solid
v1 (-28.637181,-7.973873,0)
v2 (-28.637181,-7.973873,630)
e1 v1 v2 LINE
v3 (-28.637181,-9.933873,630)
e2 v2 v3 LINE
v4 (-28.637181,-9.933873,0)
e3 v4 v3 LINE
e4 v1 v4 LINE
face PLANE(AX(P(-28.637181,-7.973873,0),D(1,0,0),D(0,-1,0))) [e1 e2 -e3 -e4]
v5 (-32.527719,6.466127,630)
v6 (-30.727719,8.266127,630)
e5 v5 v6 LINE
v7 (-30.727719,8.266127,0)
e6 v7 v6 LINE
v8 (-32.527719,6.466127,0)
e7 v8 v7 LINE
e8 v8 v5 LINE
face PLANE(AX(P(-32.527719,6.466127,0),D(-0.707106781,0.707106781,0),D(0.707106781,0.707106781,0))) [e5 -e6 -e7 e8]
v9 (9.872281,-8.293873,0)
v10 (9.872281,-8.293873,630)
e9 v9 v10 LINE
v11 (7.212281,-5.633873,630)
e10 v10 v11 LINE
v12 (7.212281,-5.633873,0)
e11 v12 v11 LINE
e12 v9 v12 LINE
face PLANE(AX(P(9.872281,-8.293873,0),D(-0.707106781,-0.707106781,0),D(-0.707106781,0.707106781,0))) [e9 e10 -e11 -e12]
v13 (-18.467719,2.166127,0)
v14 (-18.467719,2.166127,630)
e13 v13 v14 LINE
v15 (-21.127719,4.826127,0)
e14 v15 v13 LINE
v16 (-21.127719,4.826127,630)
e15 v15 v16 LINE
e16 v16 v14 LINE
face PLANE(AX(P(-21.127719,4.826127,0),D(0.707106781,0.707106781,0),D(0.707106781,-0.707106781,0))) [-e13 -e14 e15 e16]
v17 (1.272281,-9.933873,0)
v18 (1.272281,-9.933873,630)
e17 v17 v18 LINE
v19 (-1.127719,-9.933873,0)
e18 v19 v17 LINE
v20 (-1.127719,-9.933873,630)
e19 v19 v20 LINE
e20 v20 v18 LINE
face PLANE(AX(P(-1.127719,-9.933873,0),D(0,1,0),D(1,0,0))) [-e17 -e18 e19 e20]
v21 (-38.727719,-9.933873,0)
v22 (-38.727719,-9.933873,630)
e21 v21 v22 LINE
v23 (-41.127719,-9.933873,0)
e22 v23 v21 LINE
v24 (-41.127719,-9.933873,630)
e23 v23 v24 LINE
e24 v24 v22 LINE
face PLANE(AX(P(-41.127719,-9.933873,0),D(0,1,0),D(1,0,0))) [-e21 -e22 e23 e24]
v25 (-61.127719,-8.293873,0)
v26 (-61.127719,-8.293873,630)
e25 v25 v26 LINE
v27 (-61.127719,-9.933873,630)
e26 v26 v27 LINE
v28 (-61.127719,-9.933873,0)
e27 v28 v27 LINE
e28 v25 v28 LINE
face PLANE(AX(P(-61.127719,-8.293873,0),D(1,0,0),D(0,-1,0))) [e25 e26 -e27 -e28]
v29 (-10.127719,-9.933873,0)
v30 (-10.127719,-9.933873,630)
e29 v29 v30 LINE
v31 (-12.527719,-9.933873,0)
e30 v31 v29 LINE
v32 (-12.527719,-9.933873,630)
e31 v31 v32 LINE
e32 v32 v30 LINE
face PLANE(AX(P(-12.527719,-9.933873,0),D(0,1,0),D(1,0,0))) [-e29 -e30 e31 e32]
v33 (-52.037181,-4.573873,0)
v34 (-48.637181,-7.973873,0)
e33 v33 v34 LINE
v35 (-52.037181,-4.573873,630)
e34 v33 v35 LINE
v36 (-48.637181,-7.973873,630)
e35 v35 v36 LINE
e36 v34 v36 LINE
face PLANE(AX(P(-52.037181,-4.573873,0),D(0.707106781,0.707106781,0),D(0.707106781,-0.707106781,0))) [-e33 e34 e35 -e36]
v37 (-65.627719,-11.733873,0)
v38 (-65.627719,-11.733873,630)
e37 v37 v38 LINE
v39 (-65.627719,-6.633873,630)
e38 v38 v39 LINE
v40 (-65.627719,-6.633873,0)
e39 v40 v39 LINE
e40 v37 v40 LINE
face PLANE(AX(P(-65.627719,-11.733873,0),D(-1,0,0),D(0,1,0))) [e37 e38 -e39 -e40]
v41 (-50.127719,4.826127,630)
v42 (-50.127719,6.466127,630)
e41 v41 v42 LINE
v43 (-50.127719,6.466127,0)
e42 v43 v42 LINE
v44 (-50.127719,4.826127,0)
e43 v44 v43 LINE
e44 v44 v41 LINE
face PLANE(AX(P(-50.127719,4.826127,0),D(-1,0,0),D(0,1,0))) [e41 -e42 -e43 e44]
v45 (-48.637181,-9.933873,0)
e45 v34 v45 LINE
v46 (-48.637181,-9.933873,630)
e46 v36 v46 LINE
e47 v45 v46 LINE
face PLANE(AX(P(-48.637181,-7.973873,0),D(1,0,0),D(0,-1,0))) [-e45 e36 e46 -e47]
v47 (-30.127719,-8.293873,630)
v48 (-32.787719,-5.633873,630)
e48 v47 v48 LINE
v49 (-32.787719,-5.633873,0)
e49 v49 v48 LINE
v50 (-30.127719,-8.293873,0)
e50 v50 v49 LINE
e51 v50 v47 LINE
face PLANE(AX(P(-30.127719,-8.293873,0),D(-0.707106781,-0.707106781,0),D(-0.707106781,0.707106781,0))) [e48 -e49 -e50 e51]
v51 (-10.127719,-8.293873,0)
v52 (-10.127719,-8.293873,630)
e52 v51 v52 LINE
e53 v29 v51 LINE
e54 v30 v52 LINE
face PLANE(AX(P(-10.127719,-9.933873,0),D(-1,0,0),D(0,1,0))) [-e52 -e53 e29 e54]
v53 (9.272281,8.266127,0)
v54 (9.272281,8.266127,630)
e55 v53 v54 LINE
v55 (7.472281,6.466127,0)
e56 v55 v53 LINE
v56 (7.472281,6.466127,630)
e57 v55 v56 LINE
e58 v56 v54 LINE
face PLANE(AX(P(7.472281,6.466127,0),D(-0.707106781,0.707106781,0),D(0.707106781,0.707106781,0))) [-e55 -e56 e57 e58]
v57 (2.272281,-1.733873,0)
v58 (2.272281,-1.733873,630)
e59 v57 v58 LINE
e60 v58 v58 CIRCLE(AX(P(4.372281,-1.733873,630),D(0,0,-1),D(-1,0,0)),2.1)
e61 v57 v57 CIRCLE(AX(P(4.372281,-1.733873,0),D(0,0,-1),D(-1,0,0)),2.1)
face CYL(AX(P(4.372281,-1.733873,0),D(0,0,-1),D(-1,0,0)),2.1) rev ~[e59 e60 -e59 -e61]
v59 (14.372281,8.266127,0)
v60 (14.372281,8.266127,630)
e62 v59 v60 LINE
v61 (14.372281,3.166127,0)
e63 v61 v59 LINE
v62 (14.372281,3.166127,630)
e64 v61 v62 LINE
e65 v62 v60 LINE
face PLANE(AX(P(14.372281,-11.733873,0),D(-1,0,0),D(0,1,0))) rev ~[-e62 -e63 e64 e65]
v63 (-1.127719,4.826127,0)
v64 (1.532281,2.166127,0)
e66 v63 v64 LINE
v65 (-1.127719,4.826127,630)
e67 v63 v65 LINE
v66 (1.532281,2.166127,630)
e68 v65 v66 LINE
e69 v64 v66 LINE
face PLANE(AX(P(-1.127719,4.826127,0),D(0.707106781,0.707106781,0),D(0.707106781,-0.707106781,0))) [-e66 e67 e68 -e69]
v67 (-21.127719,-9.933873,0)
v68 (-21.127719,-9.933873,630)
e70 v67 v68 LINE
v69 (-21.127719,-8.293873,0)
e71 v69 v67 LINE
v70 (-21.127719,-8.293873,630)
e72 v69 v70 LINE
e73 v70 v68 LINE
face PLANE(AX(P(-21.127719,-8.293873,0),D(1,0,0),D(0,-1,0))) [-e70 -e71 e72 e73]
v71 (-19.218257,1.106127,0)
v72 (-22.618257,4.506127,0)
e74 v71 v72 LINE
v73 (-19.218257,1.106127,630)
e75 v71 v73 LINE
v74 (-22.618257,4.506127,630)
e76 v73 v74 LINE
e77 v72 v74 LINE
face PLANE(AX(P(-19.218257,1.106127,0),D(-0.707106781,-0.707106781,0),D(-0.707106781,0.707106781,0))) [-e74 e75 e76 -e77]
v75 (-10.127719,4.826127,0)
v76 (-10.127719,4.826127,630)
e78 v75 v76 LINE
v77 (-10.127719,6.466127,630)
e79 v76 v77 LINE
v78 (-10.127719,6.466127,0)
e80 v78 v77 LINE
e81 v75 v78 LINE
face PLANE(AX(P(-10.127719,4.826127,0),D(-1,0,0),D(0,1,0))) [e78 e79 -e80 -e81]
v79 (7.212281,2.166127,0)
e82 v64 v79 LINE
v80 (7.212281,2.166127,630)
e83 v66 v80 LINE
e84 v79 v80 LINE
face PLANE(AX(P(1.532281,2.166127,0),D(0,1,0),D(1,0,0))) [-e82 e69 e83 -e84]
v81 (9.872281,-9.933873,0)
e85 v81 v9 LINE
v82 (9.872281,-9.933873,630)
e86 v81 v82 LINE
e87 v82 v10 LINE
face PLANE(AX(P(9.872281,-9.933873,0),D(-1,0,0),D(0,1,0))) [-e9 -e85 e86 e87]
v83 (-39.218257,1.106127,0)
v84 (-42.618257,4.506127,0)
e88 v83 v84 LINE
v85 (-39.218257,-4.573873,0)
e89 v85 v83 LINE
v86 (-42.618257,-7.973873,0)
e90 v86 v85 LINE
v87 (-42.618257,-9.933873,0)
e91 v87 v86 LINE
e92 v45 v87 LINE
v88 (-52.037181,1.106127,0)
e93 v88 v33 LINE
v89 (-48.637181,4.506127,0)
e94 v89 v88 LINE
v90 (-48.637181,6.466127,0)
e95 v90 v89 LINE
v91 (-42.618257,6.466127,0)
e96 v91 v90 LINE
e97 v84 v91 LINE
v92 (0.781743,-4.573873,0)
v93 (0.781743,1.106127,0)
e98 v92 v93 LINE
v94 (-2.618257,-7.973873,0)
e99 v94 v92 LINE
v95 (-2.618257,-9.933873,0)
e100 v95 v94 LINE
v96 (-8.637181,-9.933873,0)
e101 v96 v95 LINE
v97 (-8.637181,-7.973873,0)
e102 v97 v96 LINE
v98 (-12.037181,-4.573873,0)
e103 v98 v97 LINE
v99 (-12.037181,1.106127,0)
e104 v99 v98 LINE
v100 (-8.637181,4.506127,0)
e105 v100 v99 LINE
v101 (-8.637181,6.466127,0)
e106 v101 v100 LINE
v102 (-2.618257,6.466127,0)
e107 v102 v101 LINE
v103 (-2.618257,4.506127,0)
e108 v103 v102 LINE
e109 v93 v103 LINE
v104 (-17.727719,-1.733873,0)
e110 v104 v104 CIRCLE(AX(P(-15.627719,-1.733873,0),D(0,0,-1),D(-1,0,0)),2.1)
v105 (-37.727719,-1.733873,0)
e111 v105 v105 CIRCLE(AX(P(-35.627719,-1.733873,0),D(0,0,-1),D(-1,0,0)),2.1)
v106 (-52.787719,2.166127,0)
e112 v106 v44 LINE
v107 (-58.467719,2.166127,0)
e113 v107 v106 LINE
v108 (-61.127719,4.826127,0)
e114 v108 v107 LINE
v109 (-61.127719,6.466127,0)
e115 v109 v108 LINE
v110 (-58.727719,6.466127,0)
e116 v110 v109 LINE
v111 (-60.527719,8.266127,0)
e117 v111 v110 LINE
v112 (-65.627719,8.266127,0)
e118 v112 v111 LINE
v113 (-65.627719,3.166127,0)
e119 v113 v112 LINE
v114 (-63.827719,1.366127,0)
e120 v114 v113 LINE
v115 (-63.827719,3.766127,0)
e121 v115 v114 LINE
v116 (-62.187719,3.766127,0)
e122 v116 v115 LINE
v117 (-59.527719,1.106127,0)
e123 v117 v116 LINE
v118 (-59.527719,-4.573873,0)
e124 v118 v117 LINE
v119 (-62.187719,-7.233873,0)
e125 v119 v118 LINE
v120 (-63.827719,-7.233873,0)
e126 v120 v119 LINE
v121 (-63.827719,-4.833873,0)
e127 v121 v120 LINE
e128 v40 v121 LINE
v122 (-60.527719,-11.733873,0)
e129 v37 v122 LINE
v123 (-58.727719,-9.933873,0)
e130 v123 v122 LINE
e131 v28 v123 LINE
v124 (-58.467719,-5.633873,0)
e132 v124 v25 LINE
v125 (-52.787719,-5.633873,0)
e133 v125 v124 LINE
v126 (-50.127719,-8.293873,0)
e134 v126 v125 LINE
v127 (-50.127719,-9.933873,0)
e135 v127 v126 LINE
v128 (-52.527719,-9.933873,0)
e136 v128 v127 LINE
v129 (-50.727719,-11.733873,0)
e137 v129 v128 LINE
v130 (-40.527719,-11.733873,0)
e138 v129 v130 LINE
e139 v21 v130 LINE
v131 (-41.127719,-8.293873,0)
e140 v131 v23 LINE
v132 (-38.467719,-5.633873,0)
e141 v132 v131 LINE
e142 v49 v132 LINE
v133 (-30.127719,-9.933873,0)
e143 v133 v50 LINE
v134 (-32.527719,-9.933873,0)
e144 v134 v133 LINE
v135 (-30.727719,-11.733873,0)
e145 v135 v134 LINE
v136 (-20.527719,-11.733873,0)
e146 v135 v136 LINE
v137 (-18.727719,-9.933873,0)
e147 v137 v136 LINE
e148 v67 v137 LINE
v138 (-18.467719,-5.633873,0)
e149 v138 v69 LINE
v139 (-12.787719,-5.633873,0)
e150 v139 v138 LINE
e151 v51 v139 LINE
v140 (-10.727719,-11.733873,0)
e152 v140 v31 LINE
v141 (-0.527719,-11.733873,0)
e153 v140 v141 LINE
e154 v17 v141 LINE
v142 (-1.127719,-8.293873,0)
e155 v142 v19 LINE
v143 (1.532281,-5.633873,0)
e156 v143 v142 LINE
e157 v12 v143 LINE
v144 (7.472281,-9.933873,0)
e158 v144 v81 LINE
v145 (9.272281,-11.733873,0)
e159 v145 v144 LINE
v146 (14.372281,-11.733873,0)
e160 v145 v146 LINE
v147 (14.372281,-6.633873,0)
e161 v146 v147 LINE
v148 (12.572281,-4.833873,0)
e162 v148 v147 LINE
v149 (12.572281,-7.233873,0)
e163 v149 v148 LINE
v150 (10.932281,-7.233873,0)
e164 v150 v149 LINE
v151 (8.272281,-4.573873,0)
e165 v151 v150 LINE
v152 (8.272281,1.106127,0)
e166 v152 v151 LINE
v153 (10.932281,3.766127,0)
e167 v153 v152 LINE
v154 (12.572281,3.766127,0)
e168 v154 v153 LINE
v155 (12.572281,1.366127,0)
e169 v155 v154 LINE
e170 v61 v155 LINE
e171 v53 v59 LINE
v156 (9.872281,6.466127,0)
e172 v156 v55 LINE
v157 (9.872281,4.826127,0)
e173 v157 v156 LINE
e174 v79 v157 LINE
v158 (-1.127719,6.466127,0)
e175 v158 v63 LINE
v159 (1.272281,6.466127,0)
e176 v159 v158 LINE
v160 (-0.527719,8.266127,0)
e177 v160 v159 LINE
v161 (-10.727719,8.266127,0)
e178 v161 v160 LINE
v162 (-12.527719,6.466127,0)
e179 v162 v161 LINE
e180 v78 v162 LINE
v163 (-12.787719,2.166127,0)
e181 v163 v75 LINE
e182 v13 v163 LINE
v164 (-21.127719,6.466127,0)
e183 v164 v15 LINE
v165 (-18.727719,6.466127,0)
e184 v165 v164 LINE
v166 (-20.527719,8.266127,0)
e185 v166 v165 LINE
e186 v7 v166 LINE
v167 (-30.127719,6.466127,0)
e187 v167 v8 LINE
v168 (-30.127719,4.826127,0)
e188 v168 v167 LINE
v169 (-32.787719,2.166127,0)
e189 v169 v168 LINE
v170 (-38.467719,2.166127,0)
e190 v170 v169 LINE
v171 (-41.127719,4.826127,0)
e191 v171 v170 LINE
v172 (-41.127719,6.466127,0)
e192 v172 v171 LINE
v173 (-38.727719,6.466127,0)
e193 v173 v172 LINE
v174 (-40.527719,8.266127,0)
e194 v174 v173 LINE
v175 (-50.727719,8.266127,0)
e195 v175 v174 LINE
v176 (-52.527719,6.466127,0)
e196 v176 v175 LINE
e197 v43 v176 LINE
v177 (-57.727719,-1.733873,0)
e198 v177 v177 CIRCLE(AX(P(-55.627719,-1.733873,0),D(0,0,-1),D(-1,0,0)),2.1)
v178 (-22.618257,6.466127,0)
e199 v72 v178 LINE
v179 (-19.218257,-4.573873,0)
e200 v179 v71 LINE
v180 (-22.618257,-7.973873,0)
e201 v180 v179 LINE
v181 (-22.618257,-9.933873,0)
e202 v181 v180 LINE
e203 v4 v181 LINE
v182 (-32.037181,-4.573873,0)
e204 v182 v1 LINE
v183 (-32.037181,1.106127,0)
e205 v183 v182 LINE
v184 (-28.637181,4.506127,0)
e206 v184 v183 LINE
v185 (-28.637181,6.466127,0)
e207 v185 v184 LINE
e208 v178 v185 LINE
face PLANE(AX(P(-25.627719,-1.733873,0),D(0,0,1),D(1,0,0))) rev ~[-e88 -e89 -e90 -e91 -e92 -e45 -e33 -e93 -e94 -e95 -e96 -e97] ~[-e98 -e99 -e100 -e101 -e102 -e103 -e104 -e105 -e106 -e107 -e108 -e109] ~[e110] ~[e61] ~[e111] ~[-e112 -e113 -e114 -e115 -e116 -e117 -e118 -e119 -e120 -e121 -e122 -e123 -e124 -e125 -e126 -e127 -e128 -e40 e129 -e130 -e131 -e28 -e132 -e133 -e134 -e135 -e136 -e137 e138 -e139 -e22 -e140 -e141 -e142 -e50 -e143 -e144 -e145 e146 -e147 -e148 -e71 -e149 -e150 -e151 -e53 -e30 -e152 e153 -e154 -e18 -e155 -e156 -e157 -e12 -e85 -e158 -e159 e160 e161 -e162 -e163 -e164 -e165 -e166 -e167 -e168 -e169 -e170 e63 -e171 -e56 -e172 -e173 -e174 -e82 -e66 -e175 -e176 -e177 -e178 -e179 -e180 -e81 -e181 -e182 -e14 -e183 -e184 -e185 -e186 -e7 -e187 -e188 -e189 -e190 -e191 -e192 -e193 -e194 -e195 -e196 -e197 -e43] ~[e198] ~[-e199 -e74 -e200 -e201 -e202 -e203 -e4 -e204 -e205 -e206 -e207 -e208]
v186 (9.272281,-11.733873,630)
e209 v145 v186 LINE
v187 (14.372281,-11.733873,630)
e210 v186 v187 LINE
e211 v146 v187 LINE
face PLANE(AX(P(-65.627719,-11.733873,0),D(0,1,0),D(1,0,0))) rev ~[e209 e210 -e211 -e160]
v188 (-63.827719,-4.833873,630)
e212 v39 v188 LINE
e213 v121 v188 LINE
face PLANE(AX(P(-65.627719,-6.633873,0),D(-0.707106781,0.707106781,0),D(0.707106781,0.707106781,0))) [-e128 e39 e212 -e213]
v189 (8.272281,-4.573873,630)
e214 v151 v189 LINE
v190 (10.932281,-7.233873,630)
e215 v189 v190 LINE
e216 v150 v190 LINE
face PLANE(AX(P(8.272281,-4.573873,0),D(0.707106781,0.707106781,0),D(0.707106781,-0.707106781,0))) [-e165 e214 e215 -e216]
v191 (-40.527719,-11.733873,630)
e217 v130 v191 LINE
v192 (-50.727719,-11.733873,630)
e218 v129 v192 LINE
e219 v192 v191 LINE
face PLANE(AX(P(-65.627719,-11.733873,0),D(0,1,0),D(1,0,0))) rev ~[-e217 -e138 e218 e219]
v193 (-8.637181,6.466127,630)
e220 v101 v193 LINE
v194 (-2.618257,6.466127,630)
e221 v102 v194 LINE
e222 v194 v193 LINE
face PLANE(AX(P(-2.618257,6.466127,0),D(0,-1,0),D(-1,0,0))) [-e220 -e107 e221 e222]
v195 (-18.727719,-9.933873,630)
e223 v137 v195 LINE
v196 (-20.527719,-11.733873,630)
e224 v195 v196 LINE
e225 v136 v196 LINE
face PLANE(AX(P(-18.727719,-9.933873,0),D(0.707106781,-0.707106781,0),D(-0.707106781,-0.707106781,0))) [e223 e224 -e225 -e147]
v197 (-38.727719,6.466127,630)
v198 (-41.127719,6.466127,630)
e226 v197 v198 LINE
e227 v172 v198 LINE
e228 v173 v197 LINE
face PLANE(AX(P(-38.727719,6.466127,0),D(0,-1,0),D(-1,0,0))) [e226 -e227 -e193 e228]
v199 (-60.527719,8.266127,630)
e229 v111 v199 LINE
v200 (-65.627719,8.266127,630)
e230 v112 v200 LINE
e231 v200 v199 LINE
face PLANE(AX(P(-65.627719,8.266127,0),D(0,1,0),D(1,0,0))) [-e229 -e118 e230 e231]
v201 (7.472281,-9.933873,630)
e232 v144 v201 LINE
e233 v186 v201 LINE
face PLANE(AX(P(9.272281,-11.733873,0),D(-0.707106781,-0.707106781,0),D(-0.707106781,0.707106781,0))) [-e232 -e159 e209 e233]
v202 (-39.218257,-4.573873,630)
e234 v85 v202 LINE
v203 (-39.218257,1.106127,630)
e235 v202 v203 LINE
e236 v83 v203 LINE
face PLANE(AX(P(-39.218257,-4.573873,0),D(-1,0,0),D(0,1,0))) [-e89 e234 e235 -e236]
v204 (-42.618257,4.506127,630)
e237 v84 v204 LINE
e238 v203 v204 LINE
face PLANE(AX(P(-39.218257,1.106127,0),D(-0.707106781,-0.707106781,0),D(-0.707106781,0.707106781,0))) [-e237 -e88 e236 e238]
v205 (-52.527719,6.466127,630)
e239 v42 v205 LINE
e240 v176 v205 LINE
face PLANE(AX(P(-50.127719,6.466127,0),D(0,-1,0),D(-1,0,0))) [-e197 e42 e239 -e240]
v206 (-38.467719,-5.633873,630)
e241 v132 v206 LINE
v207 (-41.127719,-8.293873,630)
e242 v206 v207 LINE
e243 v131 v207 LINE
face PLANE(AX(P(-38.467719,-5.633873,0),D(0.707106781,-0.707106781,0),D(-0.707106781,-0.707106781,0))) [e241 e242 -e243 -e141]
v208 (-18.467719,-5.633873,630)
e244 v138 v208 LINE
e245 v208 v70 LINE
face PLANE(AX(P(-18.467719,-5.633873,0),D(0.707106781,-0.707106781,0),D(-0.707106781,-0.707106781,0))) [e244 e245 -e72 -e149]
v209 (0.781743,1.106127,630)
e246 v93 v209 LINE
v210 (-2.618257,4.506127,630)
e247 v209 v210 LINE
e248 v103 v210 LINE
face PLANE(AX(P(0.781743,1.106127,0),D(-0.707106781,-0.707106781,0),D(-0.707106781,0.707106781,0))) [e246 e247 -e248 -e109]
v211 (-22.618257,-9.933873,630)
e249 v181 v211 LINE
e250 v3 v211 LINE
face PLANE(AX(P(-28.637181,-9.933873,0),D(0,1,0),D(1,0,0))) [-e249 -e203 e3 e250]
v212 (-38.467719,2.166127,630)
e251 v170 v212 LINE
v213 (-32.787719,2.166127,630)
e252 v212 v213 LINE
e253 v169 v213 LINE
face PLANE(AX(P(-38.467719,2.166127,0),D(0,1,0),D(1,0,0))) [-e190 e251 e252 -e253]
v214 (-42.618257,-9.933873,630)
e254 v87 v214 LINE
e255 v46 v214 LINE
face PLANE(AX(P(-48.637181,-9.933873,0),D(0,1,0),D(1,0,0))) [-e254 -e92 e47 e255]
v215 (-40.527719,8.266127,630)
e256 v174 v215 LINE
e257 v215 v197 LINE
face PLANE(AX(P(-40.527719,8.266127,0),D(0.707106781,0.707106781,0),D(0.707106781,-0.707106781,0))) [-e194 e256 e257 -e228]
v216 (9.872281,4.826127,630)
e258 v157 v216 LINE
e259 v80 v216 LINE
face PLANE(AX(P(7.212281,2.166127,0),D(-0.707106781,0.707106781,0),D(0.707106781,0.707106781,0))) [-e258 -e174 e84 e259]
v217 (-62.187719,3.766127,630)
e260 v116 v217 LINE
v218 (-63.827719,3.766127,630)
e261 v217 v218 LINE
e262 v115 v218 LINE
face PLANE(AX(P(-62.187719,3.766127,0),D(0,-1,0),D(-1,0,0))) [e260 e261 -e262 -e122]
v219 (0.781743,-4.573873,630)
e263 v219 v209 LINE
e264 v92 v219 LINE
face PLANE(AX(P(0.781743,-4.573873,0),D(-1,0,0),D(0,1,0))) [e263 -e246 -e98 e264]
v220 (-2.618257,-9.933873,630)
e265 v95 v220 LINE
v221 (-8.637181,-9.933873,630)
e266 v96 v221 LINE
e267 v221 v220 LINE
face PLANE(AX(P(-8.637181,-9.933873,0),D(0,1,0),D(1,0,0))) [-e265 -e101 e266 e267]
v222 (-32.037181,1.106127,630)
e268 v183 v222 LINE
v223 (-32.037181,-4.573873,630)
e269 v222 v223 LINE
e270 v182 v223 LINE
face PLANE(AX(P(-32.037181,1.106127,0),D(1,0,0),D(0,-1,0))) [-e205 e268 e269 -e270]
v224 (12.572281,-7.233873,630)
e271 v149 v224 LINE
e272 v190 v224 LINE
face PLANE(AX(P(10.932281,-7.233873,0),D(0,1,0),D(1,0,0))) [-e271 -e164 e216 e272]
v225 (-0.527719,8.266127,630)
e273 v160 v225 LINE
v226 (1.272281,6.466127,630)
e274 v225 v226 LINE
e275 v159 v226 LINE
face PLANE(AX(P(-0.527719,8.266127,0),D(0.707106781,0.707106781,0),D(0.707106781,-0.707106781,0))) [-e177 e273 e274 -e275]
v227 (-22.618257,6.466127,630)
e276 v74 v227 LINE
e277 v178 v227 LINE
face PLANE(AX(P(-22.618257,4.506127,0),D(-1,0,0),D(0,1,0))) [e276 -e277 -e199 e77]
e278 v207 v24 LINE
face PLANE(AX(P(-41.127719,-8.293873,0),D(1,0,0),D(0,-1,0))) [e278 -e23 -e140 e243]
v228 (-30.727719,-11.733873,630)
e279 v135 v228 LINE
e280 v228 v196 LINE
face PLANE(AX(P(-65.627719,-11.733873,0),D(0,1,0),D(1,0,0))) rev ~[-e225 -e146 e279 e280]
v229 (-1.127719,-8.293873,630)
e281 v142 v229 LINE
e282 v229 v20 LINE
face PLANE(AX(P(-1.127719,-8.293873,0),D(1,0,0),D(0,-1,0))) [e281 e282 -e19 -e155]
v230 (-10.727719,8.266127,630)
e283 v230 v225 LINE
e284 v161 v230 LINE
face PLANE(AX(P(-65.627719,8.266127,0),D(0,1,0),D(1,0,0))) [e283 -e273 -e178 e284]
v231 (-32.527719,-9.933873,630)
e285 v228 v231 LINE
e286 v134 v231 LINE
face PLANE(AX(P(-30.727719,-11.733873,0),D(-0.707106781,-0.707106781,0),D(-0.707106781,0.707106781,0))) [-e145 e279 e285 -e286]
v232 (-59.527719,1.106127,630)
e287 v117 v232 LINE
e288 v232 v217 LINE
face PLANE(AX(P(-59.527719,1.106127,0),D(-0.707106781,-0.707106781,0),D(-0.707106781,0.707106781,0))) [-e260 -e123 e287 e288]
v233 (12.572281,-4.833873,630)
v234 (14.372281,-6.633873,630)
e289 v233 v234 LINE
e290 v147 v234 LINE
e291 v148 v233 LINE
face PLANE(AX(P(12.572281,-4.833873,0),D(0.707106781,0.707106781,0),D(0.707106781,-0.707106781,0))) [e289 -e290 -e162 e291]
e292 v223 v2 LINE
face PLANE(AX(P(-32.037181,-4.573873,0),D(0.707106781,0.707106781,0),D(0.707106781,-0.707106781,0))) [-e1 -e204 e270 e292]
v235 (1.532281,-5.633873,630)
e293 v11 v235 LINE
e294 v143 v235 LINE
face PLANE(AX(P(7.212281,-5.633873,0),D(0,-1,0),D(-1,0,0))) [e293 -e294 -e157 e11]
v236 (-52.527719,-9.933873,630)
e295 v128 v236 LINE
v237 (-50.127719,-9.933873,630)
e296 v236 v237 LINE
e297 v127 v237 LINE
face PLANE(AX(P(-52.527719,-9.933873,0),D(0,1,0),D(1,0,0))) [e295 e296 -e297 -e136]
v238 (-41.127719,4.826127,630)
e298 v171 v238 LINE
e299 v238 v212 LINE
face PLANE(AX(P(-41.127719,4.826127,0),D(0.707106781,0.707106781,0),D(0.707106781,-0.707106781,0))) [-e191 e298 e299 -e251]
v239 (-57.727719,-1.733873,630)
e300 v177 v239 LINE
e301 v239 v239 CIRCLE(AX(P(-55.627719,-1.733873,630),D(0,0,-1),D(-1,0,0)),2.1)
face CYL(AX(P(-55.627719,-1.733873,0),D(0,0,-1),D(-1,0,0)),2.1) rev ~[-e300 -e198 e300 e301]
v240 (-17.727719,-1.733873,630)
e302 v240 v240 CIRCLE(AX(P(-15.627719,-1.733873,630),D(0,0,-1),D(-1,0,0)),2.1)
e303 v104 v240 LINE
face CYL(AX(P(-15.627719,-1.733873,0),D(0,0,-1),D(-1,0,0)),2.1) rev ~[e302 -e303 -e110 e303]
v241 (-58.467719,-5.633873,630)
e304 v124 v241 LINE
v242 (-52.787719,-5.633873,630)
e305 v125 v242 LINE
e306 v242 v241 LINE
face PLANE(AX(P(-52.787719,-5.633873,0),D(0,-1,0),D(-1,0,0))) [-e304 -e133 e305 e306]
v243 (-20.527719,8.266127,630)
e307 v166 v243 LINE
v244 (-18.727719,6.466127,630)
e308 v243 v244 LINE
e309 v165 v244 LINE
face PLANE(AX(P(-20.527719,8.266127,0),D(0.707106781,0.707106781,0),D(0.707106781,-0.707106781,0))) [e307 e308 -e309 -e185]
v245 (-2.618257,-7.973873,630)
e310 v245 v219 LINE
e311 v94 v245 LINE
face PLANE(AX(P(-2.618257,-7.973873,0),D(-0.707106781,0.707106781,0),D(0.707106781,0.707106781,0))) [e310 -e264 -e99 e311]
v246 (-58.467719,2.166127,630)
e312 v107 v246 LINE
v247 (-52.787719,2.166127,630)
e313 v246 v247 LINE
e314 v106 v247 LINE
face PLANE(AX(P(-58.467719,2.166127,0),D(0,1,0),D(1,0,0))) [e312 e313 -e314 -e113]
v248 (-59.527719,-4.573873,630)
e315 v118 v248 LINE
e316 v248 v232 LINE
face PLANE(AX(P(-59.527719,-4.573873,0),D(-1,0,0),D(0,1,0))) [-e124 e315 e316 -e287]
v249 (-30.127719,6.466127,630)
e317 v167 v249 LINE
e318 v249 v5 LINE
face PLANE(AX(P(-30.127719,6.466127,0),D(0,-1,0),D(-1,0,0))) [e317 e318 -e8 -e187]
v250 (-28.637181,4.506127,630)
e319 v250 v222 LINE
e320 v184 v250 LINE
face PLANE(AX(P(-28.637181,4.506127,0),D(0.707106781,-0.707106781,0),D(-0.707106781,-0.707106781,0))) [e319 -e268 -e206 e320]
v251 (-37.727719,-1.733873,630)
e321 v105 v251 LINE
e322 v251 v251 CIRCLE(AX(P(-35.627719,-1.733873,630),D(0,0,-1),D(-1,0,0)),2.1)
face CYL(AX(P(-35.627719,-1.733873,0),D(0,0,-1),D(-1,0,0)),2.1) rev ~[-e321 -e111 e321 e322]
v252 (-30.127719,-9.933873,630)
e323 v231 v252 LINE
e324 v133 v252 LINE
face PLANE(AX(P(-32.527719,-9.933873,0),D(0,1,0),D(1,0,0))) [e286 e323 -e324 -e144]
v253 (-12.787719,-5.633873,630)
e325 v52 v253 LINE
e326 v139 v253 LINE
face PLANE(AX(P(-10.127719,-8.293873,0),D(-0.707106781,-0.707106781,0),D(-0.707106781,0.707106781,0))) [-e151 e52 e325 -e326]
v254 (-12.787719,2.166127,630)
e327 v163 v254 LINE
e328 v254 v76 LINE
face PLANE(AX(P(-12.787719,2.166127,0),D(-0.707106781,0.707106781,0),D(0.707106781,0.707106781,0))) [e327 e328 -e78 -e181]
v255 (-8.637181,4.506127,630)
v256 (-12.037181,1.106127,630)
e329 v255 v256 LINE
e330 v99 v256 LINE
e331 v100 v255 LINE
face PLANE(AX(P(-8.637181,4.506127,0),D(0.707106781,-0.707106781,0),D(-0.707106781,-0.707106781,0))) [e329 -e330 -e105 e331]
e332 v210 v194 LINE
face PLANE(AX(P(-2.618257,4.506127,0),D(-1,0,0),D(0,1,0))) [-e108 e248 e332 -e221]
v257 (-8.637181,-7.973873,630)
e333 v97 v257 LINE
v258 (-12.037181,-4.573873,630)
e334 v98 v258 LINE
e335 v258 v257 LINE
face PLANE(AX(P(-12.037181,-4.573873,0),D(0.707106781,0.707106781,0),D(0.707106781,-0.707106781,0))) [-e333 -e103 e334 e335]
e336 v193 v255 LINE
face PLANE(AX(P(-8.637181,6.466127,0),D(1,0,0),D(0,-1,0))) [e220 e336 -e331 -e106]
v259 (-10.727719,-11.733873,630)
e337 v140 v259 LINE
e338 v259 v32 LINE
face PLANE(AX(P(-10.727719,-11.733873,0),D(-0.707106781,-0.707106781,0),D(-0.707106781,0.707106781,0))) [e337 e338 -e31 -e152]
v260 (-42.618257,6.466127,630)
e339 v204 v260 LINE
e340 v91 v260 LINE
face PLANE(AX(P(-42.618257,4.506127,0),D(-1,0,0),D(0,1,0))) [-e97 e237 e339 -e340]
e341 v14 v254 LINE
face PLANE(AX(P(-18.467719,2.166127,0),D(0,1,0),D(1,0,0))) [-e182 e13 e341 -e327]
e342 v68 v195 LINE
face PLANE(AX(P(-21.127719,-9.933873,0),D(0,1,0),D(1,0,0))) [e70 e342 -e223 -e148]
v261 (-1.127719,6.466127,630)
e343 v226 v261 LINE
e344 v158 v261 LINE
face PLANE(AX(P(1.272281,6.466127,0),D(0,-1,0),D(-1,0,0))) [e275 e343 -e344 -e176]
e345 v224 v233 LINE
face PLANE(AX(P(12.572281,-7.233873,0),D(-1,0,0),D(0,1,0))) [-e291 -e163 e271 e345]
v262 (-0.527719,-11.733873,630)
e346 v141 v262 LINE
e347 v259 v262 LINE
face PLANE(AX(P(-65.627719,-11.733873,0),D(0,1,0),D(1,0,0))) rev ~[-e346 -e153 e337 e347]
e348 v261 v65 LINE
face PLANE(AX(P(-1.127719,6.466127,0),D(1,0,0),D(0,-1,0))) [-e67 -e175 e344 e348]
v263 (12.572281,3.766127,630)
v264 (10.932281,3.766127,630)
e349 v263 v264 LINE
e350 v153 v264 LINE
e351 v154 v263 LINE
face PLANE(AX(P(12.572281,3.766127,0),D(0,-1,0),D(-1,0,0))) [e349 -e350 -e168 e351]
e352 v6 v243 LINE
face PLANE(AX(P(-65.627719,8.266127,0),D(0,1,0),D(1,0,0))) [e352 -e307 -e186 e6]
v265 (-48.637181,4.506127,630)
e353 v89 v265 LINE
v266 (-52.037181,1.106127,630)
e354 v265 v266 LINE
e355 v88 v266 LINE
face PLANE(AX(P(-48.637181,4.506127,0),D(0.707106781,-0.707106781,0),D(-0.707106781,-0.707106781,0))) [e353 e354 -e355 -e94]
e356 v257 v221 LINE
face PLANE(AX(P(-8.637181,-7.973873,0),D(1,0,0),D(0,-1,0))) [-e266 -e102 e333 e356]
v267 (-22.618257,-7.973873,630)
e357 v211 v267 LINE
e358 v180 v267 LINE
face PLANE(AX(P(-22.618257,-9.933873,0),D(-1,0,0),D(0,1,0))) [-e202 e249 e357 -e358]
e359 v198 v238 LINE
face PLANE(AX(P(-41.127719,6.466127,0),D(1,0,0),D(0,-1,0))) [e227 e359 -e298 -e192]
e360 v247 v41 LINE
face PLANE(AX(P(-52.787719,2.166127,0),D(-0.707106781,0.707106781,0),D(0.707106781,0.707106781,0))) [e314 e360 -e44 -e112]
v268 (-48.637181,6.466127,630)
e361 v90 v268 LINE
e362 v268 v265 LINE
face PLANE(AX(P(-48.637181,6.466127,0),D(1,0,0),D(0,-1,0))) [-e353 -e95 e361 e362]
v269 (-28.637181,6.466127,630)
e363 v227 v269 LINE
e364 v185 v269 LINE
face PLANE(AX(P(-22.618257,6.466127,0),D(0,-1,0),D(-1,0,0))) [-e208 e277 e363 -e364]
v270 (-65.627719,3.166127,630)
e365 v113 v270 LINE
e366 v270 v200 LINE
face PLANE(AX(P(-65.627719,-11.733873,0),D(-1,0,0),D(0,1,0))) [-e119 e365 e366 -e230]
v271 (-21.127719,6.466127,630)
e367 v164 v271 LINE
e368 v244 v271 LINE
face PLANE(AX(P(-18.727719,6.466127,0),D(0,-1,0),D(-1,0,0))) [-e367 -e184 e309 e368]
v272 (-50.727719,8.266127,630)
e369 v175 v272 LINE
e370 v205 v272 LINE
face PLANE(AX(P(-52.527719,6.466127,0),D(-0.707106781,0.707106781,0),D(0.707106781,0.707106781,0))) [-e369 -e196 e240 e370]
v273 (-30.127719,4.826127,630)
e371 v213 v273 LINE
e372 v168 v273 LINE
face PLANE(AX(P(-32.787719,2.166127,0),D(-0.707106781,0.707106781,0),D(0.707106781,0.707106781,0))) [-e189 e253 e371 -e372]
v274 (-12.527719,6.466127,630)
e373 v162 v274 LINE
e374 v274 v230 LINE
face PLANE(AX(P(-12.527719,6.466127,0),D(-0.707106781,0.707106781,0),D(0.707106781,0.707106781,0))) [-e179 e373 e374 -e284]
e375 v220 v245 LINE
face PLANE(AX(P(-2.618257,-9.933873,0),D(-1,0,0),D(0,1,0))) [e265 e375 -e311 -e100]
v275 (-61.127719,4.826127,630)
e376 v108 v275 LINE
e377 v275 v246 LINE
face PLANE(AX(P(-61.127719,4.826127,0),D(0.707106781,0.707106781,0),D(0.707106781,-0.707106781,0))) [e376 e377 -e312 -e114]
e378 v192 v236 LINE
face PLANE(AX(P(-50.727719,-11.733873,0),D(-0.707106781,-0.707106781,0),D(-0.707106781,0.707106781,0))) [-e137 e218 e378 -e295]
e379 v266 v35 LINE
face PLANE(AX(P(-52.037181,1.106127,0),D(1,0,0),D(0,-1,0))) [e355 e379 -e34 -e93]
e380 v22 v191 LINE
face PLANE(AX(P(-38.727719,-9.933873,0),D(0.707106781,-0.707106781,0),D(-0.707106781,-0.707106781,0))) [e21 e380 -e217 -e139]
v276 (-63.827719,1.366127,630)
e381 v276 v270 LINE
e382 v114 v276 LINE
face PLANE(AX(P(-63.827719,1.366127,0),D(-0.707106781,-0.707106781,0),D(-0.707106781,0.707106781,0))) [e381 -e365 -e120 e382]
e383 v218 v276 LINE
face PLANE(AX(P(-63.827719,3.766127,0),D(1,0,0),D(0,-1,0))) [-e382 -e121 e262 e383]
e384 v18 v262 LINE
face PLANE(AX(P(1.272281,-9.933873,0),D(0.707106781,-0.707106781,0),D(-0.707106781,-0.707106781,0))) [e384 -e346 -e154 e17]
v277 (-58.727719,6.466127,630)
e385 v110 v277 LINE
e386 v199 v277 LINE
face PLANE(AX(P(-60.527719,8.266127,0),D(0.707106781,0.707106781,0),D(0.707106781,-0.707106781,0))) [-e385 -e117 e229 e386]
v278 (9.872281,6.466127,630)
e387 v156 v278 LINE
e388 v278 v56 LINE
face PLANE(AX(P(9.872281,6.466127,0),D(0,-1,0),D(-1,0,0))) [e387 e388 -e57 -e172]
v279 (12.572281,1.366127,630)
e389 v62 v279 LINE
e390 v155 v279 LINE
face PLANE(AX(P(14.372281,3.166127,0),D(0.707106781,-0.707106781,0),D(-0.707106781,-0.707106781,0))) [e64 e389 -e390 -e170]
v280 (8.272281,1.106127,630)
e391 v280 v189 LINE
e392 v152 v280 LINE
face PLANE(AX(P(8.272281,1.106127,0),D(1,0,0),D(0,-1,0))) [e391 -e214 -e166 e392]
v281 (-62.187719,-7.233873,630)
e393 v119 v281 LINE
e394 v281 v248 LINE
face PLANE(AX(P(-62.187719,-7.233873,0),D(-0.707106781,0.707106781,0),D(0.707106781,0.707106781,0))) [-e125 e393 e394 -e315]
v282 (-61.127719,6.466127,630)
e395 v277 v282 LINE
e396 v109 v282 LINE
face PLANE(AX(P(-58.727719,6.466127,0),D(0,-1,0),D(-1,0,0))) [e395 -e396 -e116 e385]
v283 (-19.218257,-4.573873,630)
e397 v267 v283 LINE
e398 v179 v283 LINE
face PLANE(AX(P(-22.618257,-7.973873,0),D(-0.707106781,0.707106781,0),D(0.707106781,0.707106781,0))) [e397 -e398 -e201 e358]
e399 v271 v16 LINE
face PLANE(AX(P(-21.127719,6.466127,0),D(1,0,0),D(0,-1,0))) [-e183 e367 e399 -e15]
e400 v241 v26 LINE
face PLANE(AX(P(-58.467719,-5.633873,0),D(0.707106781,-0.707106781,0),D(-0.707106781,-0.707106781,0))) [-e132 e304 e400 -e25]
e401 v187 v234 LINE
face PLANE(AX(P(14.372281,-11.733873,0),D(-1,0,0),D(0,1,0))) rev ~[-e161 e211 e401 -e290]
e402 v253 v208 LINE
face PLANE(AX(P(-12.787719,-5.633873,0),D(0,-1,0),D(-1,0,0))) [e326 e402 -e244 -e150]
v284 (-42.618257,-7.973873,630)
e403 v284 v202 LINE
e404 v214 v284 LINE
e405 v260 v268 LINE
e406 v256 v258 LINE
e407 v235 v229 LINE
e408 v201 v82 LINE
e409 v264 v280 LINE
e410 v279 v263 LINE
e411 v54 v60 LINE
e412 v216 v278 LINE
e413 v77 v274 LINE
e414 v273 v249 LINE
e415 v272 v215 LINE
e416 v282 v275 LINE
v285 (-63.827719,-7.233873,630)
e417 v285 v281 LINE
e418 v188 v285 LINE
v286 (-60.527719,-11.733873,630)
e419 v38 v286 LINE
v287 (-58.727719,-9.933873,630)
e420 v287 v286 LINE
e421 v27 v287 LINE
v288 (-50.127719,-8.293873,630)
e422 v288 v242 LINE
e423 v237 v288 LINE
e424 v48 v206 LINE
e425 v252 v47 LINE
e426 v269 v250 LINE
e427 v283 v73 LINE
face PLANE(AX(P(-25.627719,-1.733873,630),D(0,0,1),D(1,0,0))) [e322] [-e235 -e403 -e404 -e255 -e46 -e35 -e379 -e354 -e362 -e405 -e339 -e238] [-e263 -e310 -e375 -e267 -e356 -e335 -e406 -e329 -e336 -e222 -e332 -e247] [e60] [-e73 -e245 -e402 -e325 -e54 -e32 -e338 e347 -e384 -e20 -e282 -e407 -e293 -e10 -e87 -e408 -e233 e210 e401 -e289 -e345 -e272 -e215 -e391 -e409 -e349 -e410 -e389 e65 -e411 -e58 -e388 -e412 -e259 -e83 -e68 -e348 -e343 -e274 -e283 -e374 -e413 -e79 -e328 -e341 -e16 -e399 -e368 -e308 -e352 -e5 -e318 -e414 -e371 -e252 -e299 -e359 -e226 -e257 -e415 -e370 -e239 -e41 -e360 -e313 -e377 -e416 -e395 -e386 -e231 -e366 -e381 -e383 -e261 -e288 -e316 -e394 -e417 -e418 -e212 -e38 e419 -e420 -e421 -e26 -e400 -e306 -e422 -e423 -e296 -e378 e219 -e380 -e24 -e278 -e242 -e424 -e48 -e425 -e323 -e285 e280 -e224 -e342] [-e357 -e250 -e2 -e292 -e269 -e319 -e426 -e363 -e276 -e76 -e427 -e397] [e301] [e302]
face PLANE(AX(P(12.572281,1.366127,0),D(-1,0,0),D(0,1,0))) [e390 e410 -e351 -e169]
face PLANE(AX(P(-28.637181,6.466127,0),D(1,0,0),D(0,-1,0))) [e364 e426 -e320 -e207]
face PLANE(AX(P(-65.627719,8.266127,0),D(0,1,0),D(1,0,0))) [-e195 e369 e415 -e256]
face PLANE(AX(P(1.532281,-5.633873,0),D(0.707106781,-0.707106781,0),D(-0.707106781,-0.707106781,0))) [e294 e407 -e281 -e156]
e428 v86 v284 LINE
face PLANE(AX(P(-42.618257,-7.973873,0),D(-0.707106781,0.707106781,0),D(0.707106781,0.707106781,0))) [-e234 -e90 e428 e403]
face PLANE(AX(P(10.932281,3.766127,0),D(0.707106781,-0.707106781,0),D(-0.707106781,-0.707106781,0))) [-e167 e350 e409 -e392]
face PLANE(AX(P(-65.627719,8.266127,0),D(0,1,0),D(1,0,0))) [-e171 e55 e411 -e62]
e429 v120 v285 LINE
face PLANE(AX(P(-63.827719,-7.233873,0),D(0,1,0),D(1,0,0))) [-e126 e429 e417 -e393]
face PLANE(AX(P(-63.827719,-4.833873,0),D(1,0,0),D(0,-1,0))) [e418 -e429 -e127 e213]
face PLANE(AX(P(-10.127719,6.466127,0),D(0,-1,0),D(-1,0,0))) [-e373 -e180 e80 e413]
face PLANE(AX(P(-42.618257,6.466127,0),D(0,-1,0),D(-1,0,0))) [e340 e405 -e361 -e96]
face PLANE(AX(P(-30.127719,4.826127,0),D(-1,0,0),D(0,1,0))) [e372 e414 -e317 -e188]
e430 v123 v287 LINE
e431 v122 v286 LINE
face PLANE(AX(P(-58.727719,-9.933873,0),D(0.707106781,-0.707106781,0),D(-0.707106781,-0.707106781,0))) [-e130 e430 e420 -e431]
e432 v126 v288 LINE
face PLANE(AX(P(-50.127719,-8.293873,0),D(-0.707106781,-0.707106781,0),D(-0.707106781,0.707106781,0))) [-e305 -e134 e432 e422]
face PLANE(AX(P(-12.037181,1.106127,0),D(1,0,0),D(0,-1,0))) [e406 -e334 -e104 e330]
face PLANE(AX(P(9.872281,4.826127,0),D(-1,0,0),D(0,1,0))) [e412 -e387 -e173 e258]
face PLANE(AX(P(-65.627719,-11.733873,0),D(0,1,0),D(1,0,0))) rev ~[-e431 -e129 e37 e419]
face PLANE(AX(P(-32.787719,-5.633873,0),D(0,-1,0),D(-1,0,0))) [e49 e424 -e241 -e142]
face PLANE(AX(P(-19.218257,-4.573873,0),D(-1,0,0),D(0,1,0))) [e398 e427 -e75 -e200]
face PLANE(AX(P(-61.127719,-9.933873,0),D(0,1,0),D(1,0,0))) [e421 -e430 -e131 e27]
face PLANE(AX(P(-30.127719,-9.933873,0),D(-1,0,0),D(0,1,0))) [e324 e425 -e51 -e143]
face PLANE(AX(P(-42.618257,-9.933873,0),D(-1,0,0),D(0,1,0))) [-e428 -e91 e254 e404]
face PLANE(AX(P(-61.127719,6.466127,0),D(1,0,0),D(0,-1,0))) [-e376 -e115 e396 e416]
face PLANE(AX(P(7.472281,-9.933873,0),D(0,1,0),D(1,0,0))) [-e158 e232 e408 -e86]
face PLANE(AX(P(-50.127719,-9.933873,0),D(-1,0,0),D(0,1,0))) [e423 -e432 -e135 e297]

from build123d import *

# Parameters (mm, degrees)
ESQUISSE1_W             = 80
ESQUISSE1_H             = 20
BOSS_EXTRU_1_DEPTH      = 630
ENL_V_MAT_EXTRU_1_REACH = 635.518
ESQUISSE2_R             = 2.1
ENL_V_MAT_EXTRU_2_REACH = 635.518


with BuildPart() as part:
    # Esquisse1 → Boss.-Extru.1 (new body)
    with BuildSketch(Plane.XY):
        with Locations((-25.62771875, -1.733873274)):
            Rectangle(ESQUISSE1_W, ESQUISSE1_H)
    extrude(amount=BOSS_EXTRU_1_DEPTH)

    # Esquisse2 → Enlèv. mat.-Extru.1 (cut, up to next)
    with BuildSketch(Plane(origin=(0, 0, 0), x_dir=(-1, 0, 0), z_dir=(0, 0, -1)), mode=Mode.PRIVATE) as enl_v_mat_extru_1_sk1:
        with Locations((55.62771875, -1.733873274)):
            Circle(ESQUISSE2_R)
    enl_v_mat_extru_1_tool1 = extrude(enl_v_mat_extru_1_sk1.sketch, amount=-ENL_V_MAT_EXTRU_1_REACH, mode=Mode.PRIVATE) & part.part
    # Esquisse2 → Enlèv. mat.-Extru.1 (cut, up to next)
    with BuildSketch(Plane(origin=(0, 0, 0), x_dir=(-1, 0, 0), z_dir=(0, 0, -1)), mode=Mode.PRIVATE) as enl_v_mat_extru_1_sk2:
        with Locations((35.62771875, -1.733873274)):
            Circle(ESQUISSE2_R)
    enl_v_mat_extru_1_tool2 = extrude(enl_v_mat_extru_1_sk2.sketch, amount=-ENL_V_MAT_EXTRU_1_REACH, mode=Mode.PRIVATE) & part.part
    # Esquisse2 → Enlèv. mat.-Extru.1 (cut, up to next)
    with BuildSketch(Plane(origin=(0, 0, 0), x_dir=(-1, 0, 0), z_dir=(0, 0, -1)), mode=Mode.PRIVATE) as enl_v_mat_extru_1_sk3:
        with Locations((15.62771875, -1.733873274)):
            Circle(ESQUISSE2_R)
    enl_v_mat_extru_1_tool3 = extrude(enl_v_mat_extru_1_sk3.sketch, amount=-ENL_V_MAT_EXTRU_1_REACH, mode=Mode.PRIVATE) & part.part
    # Esquisse2 → Enlèv. mat.-Extru.1 (cut, up to next)
    with BuildSketch(Plane(origin=(0, 0, 0), x_dir=(-1, 0, 0), z_dir=(0, 0, -1)), mode=Mode.PRIVATE) as enl_v_mat_extru_1_sk4:
        with Locations((-4.37228125, -1.733873274)):
            Circle(ESQUISSE2_R)
    enl_v_mat_extru_1_tool4 = extrude(enl_v_mat_extru_1_sk4.sketch, amount=-ENL_V_MAT_EXTRU_1_REACH, mode=Mode.PRIVATE) & part.part
    # Esquisse2 → Enlèv. mat.-Extru.1 (cut, up to next)
    with BuildSketch(Plane(origin=(0, 0, 0), x_dir=(-1, 0, 0), z_dir=(0, 0, -1)), mode=Mode.PRIVATE) as enl_v_mat_extru_1_sk5:
        Polygon((50.72771875, 8.266126726), (60.52771875, 8.266126726), (58.72771875, 6.466126726), (61.12771875, 6.466126726), (61.12771875, 4.826126726), (58.46771875, 2.166126726), (52.78771875, 2.166126726), (50.12771875, 4.826126726), (50.12771875, 6.466126726), (52.52771875, 6.466126726), align=None)
    enl_v_mat_extru_1_tool5 = extrude(enl_v_mat_extru_1_sk5.sketch, amount=-ENL_V_MAT_EXTRU_1_REACH, mode=Mode.PRIVATE) & part.part
    # Esquisse2 → Enlèv. mat.-Extru.1 (cut, up to next)
    with BuildSketch(Plane(origin=(0, 0, 0), x_dir=(-1, 0, 0), z_dir=(0, 0, -1)), mode=Mode.PRIVATE) as enl_v_mat_extru_1_sk6:
        Polygon((65.62771875, 3.166126726), (65.62771875, -6.633873274), (63.82771875, -4.833873274), (63.82771875, -7.233873274), (62.18771875, -7.233873274), (59.52771875, -4.573873274), (59.52771875, 1.106126726), (62.18771875, 3.766126726), (63.82771875, 3.766126726), (63.82771875, 1.366126726), align=None)
    enl_v_mat_extru_1_tool6 = extrude(enl_v_mat_extru_1_sk6.sketch, amount=-ENL_V_MAT_EXTRU_1_REACH, mode=Mode.PRIVATE) & part.part
    # Esquisse2 → Enlèv. mat.-Extru.1 (cut, up to next)
    with BuildSketch(Plane(origin=(0, 0, 0), x_dir=(-1, 0, 0), z_dir=(0, 0, -1)), mode=Mode.PRIVATE) as enl_v_mat_extru_1_sk7:
        Polygon((60.52771875, -11.733873274), (50.72771875, -11.733873274), (52.52771875, -9.933873274), (50.12771875, -9.933873274), (50.12771875, -8.293873274), (52.78771875, -5.633873274), (58.46771875, -5.633873274), (61.12771875, -8.293873274), (61.12771875, -9.933873274), (58.72771875, -9.933873274), align=None)
    enl_v_mat_extru_1_tool7 = extrude(enl_v_mat_extru_1_sk7.sketch, amount=-ENL_V_MAT_EXTRU_1_REACH, mode=Mode.PRIVATE) & part.part
    # Esquisse2 → Enlèv. mat.-Extru.1 (cut, up to next)
    with BuildSketch(Plane(origin=(0, 0, 0), x_dir=(-1, 0, 0), z_dir=(0, 0, -1)), mode=Mode.PRIVATE) as enl_v_mat_extru_1_sk8:
        Polygon((30.72771875, 8.266126726), (40.52771875, 8.266126726), (38.72771875, 6.466126726), (41.12771875, 6.466126726), (41.12771875, 4.826126726), (38.46771875, 2.166126726), (32.78771875, 2.166126726), (30.12771875, 4.826126726), (30.12771875, 6.466126726), (32.52771875, 6.466126726), align=None)
    enl_v_mat_extru_1_tool8 = extrude(enl_v_mat_extru_1_sk8.sketch, amount=-ENL_V_MAT_EXTRU_1_REACH, mode=Mode.PRIVATE) & part.part
    # Esquisse2 → Enlèv. mat.-Extru.1 (cut, up to next)
    with BuildSketch(Plane(origin=(0, 0, 0), x_dir=(-1, 0, 0), z_dir=(0, 0, -1)), mode=Mode.PRIVATE) as enl_v_mat_extru_1_sk9:
        Polygon((40.52771875, -11.733873274), (30.72771875, -11.733873274), (32.52771875, -9.933873274), (30.12771875, -9.933873274), (30.12771875, -8.293873274), (32.78771875, -5.633873274), (38.46771875, -5.633873274), (41.12771875, -8.293873274), (41.12771875, -9.933873274), (38.72771875, -9.933873274), align=None)
    enl_v_mat_extru_1_tool9 = extrude(enl_v_mat_extru_1_sk9.sketch, amount=-ENL_V_MAT_EXTRU_1_REACH, mode=Mode.PRIVATE) & part.part
    # Esquisse2 → Enlèv. mat.-Extru.1 (cut, up to next)
    with BuildSketch(Plane(origin=(0, 0, 0), x_dir=(-1, 0, 0), z_dir=(0, 0, -1)), mode=Mode.PRIVATE) as enl_v_mat_extru_1_sk10:
        Polygon((10.72771875, 8.266126726), (20.52771875, 8.266126726), (18.72771875, 6.466126726), (21.12771875, 6.466126726), (21.12771875, 4.826126726), (18.46771875, 2.166126726), (12.78771875, 2.166126726), (10.12771875, 4.826126726), (10.12771875, 6.466126726), (12.52771875, 6.466126726), align=None)
    enl_v_mat_extru_1_tool10 = extrude(enl_v_mat_extru_1_sk10.sketch, amount=-ENL_V_MAT_EXTRU_1_REACH, mode=Mode.PRIVATE) & part.part
    # Esquisse2 → Enlèv. mat.-Extru.1 (cut, up to next)
    with BuildSketch(Plane(origin=(0, 0, 0), x_dir=(-1, 0, 0), z_dir=(0, 0, -1)), mode=Mode.PRIVATE) as enl_v_mat_extru_1_sk11:
        Polygon((20.52771875, -11.733873274), (10.72771875, -11.733873274), (12.52771875, -9.933873274), (10.12771875, -9.933873274), (10.12771875, -8.293873274), (12.78771875, -5.633873274), (18.46771875, -5.633873274), (21.12771875, -8.293873274), (21.12771875, -9.933873274), (18.72771875, -9.933873274), align=None)
    enl_v_mat_extru_1_tool11 = extrude(enl_v_mat_extru_1_sk11.sketch, amount=-ENL_V_MAT_EXTRU_1_REACH, mode=Mode.PRIVATE) & part.part
    # Esquisse2 → Enlèv. mat.-Extru.1 (cut, up to next)
    with BuildSketch(Plane(origin=(0, 0, 0), x_dir=(-1, 0, 0), z_dir=(0, 0, -1)), mode=Mode.PRIVATE) as enl_v_mat_extru_1_sk12:
        Polygon((-9.27228125, 8.266126726), (0.52771875, 8.266126726), (-1.27228125, 6.466126726), (1.12771875, 6.466126726), (1.12771875, 4.826126726), (-1.53228125, 2.166126726), (-7.21228125, 2.166126726), (-9.87228125, 4.826126726), (-9.87228125, 6.466126726), (-7.47228125, 6.466126726), align=None)
    enl_v_mat_extru_1_tool12 = extrude(enl_v_mat_extru_1_sk12.sketch, amount=-ENL_V_MAT_EXTRU_1_REACH, mode=Mode.PRIVATE) & part.part
    # Esquisse2 → Enlèv. mat.-Extru.1 (cut, up to next)
    with BuildSketch(Plane(origin=(0, 0, 0), x_dir=(-1, 0, 0), z_dir=(0, 0, -1)), mode=Mode.PRIVATE) as enl_v_mat_extru_1_sk13:
        Polygon((0.52771875, -11.733873274), (-9.27228125, -11.733873274), (-7.47228125, -9.933873274), (-9.87228125, -9.933873274), (-9.87228125, -8.293873274), (-7.21228125, -5.633873274), (-1.53228125, -5.633873274), (1.12771875, -8.293873274), (1.12771875, -9.933873274), (-1.27228125, -9.933873274), align=None)
    enl_v_mat_extru_1_tool13 = extrude(enl_v_mat_extru_1_sk13.sketch, amount=-ENL_V_MAT_EXTRU_1_REACH, mode=Mode.PRIVATE) & part.part
    # Esquisse2 → Enlèv. mat.-Extru.1 (cut, up to next)
    with BuildSketch(Plane(origin=(0, 0, 0), x_dir=(-1, 0, 0), z_dir=(0, 0, -1)), mode=Mode.PRIVATE) as enl_v_mat_extru_1_sk14:
        Polygon((-14.37228125, -6.633873274), (-14.37228125, 3.166126726), (-12.57228125, 1.366126726), (-12.57228125, 3.766126726), (-10.93228125, 3.766126726), (-8.27228125, 1.106126726), (-8.27228125, -4.573873274), (-10.93228125, -7.233873274), (-12.57228125, -7.233873274), (-12.57228125, -4.833873274), align=None)
    enl_v_mat_extru_1_tool14 = extrude(enl_v_mat_extru_1_sk14.sketch, amount=-ENL_V_MAT_EXTRU_1_REACH, mode=Mode.PRIVATE) & part.part
    add(enl_v_mat_extru_1_tool1.solids().sort_by_distance((-55.627719, -1.733873, 0))[0], mode=Mode.SUBTRACT)
    add(enl_v_mat_extru_1_tool2.solids().sort_by_distance((-35.627719, -1.733873, 0))[0], mode=Mode.SUBTRACT)
    add(enl_v_mat_extru_1_tool3.solids().sort_by_distance((-15.627719, -1.733873, 0))[0], mode=Mode.SUBTRACT)
    add(enl_v_mat_extru_1_tool4.solids().sort_by_distance((4.372281, -1.733873, 0))[0], mode=Mode.SUBTRACT)
    add(enl_v_mat_extru_1_tool5.solids().sort_by_distance((-55.627719, 5.301599, 0))[0], mode=Mode.SUBTRACT)
    add(enl_v_mat_extru_1_tool6.solids().sort_by_distance((-62.663191, -1.733873, 0))[0], mode=Mode.SUBTRACT)
    add(enl_v_mat_extru_1_tool7.solids().sort_by_distance((-55.627719, -8.769346, 0))[0], mode=Mode.SUBTRACT)
    add(enl_v_mat_extru_1_tool8.solids().sort_by_distance((-35.627719, 5.301599, 0))[0], mode=Mode.SUBTRACT)
    add(enl_v_mat_extru_1_tool9.solids().sort_by_distance((-35.627719, -8.769346, 0))[0], mode=Mode.SUBTRACT)
    add(enl_v_mat_extru_1_tool10.solids().sort_by_distance((-15.627719, 5.301599, 0))[0], mode=Mode.SUBTRACT)
    add(enl_v_mat_extru_1_tool11.solids().sort_by_distance((-15.627719, -8.769346, 0))[0], mode=Mode.SUBTRACT)
    add(enl_v_mat_extru_1_tool12.solids().sort_by_distance((4.372281, 5.301599, 0))[0], mode=Mode.SUBTRACT)
    add(enl_v_mat_extru_1_tool13.solids().sort_by_distance((4.372281, -8.769346, 0))[0], mode=Mode.SUBTRACT)
    add(enl_v_mat_extru_1_tool14.solids().sort_by_distance((11.407754, -1.733873, 0))[0], mode=Mode.SUBTRACT)

    # Esquisse3 → Enlèv. mat.-Extru.2 (cut, up to next)
    with BuildSketch(Plane(origin=(0, 0, 0), x_dir=(-1, 0, 0), z_dir=(0, 0, -1)), mode=Mode.PRIVATE) as enl_v_mat_extru_2_sk1:
        Polygon((2.618256699, 6.466126726), (8.637180802, 6.466126726), (8.637180802, 4.506126726), (12.037180802, 1.106126726), (12.037180802, -4.573873274), (8.637180802, -7.973873274), (8.637180802, -9.933873274), (2.618256699, -9.933873274), (2.618256699, -7.973873274), (-0.781743301, -4.573873274), (-0.781743301, 1.106126726), (2.618256699, 4.506126726), align=None)
    enl_v_mat_extru_2_tool1 = extrude(enl_v_mat_extru_2_sk1.sketch, amount=-ENL_V_MAT_EXTRU_2_REACH, mode=Mode.PRIVATE) & part.part
    # Esquisse3 → Enlèv. mat.-Extru.2 (cut, up to next)
    with BuildSketch(Plane(origin=(0, 0, 0), x_dir=(-1, 0, 0), z_dir=(0, 0, -1)), mode=Mode.PRIVATE) as enl_v_mat_extru_2_sk2:
        Polygon((22.618256699, 6.466126726), (28.637180802, 6.466126726), (28.637180802, 4.506126726), (32.037180802, 1.106126726), (32.037180802, -4.573873274), (28.637180802, -7.973873274), (28.637180802, -9.933873274), (22.618256699, -9.933873274), (22.618256699, -7.973873274), (19.218256699, -4.573873274), (19.218256699, 1.106126726), (22.618256699, 4.506126726), align=None)
    enl_v_mat_extru_2_tool2 = extrude(enl_v_mat_extru_2_sk2.sketch, amount=-ENL_V_MAT_EXTRU_2_REACH, mode=Mode.PRIVATE) & part.part
    # Esquisse3 → Enlèv. mat.-Extru.2 (cut, up to next)
    with BuildSketch(Plane(origin=(0, 0, 0), x_dir=(-1, 0, 0), z_dir=(0, 0, -1)), mode=Mode.PRIVATE) as enl_v_mat_extru_2_sk3:
        Polygon((42.618256699, 6.466126726), (48.637180802, 6.466126726), (48.637180802, 4.506126726), (52.037180802, 1.106126726), (52.037180802, -4.573873274), (48.637180802, -7.973873274), (48.637180802, -9.933873274), (42.618256699, -9.933873274), (42.618256699, -7.973873274), (39.218256699, -4.573873274), (39.218256699, 1.106126726), (42.618256699, 4.506126726), align=None)
    enl_v_mat_extru_2_tool3 = extrude(enl_v_mat_extru_2_sk3.sketch, amount=-ENL_V_MAT_EXTRU_2_REACH, mode=Mode.PRIVATE) & part.part
    add(enl_v_mat_extru_2_tool1.solids().sort_by_distance((-5.627719, -1.733873, 0))[0], mode=Mode.SUBTRACT)
    add(enl_v_mat_extru_2_tool2.solids().sort_by_distance((-25.627719, -1.733873, 0))[0], mode=Mode.SUBTRACT)
    add(enl_v_mat_extru_2_tool3.solids().sort_by_distance((-45.627719, -1.733873, 0))[0], mode=Mode.SUBTRACT)


solid = part.part
